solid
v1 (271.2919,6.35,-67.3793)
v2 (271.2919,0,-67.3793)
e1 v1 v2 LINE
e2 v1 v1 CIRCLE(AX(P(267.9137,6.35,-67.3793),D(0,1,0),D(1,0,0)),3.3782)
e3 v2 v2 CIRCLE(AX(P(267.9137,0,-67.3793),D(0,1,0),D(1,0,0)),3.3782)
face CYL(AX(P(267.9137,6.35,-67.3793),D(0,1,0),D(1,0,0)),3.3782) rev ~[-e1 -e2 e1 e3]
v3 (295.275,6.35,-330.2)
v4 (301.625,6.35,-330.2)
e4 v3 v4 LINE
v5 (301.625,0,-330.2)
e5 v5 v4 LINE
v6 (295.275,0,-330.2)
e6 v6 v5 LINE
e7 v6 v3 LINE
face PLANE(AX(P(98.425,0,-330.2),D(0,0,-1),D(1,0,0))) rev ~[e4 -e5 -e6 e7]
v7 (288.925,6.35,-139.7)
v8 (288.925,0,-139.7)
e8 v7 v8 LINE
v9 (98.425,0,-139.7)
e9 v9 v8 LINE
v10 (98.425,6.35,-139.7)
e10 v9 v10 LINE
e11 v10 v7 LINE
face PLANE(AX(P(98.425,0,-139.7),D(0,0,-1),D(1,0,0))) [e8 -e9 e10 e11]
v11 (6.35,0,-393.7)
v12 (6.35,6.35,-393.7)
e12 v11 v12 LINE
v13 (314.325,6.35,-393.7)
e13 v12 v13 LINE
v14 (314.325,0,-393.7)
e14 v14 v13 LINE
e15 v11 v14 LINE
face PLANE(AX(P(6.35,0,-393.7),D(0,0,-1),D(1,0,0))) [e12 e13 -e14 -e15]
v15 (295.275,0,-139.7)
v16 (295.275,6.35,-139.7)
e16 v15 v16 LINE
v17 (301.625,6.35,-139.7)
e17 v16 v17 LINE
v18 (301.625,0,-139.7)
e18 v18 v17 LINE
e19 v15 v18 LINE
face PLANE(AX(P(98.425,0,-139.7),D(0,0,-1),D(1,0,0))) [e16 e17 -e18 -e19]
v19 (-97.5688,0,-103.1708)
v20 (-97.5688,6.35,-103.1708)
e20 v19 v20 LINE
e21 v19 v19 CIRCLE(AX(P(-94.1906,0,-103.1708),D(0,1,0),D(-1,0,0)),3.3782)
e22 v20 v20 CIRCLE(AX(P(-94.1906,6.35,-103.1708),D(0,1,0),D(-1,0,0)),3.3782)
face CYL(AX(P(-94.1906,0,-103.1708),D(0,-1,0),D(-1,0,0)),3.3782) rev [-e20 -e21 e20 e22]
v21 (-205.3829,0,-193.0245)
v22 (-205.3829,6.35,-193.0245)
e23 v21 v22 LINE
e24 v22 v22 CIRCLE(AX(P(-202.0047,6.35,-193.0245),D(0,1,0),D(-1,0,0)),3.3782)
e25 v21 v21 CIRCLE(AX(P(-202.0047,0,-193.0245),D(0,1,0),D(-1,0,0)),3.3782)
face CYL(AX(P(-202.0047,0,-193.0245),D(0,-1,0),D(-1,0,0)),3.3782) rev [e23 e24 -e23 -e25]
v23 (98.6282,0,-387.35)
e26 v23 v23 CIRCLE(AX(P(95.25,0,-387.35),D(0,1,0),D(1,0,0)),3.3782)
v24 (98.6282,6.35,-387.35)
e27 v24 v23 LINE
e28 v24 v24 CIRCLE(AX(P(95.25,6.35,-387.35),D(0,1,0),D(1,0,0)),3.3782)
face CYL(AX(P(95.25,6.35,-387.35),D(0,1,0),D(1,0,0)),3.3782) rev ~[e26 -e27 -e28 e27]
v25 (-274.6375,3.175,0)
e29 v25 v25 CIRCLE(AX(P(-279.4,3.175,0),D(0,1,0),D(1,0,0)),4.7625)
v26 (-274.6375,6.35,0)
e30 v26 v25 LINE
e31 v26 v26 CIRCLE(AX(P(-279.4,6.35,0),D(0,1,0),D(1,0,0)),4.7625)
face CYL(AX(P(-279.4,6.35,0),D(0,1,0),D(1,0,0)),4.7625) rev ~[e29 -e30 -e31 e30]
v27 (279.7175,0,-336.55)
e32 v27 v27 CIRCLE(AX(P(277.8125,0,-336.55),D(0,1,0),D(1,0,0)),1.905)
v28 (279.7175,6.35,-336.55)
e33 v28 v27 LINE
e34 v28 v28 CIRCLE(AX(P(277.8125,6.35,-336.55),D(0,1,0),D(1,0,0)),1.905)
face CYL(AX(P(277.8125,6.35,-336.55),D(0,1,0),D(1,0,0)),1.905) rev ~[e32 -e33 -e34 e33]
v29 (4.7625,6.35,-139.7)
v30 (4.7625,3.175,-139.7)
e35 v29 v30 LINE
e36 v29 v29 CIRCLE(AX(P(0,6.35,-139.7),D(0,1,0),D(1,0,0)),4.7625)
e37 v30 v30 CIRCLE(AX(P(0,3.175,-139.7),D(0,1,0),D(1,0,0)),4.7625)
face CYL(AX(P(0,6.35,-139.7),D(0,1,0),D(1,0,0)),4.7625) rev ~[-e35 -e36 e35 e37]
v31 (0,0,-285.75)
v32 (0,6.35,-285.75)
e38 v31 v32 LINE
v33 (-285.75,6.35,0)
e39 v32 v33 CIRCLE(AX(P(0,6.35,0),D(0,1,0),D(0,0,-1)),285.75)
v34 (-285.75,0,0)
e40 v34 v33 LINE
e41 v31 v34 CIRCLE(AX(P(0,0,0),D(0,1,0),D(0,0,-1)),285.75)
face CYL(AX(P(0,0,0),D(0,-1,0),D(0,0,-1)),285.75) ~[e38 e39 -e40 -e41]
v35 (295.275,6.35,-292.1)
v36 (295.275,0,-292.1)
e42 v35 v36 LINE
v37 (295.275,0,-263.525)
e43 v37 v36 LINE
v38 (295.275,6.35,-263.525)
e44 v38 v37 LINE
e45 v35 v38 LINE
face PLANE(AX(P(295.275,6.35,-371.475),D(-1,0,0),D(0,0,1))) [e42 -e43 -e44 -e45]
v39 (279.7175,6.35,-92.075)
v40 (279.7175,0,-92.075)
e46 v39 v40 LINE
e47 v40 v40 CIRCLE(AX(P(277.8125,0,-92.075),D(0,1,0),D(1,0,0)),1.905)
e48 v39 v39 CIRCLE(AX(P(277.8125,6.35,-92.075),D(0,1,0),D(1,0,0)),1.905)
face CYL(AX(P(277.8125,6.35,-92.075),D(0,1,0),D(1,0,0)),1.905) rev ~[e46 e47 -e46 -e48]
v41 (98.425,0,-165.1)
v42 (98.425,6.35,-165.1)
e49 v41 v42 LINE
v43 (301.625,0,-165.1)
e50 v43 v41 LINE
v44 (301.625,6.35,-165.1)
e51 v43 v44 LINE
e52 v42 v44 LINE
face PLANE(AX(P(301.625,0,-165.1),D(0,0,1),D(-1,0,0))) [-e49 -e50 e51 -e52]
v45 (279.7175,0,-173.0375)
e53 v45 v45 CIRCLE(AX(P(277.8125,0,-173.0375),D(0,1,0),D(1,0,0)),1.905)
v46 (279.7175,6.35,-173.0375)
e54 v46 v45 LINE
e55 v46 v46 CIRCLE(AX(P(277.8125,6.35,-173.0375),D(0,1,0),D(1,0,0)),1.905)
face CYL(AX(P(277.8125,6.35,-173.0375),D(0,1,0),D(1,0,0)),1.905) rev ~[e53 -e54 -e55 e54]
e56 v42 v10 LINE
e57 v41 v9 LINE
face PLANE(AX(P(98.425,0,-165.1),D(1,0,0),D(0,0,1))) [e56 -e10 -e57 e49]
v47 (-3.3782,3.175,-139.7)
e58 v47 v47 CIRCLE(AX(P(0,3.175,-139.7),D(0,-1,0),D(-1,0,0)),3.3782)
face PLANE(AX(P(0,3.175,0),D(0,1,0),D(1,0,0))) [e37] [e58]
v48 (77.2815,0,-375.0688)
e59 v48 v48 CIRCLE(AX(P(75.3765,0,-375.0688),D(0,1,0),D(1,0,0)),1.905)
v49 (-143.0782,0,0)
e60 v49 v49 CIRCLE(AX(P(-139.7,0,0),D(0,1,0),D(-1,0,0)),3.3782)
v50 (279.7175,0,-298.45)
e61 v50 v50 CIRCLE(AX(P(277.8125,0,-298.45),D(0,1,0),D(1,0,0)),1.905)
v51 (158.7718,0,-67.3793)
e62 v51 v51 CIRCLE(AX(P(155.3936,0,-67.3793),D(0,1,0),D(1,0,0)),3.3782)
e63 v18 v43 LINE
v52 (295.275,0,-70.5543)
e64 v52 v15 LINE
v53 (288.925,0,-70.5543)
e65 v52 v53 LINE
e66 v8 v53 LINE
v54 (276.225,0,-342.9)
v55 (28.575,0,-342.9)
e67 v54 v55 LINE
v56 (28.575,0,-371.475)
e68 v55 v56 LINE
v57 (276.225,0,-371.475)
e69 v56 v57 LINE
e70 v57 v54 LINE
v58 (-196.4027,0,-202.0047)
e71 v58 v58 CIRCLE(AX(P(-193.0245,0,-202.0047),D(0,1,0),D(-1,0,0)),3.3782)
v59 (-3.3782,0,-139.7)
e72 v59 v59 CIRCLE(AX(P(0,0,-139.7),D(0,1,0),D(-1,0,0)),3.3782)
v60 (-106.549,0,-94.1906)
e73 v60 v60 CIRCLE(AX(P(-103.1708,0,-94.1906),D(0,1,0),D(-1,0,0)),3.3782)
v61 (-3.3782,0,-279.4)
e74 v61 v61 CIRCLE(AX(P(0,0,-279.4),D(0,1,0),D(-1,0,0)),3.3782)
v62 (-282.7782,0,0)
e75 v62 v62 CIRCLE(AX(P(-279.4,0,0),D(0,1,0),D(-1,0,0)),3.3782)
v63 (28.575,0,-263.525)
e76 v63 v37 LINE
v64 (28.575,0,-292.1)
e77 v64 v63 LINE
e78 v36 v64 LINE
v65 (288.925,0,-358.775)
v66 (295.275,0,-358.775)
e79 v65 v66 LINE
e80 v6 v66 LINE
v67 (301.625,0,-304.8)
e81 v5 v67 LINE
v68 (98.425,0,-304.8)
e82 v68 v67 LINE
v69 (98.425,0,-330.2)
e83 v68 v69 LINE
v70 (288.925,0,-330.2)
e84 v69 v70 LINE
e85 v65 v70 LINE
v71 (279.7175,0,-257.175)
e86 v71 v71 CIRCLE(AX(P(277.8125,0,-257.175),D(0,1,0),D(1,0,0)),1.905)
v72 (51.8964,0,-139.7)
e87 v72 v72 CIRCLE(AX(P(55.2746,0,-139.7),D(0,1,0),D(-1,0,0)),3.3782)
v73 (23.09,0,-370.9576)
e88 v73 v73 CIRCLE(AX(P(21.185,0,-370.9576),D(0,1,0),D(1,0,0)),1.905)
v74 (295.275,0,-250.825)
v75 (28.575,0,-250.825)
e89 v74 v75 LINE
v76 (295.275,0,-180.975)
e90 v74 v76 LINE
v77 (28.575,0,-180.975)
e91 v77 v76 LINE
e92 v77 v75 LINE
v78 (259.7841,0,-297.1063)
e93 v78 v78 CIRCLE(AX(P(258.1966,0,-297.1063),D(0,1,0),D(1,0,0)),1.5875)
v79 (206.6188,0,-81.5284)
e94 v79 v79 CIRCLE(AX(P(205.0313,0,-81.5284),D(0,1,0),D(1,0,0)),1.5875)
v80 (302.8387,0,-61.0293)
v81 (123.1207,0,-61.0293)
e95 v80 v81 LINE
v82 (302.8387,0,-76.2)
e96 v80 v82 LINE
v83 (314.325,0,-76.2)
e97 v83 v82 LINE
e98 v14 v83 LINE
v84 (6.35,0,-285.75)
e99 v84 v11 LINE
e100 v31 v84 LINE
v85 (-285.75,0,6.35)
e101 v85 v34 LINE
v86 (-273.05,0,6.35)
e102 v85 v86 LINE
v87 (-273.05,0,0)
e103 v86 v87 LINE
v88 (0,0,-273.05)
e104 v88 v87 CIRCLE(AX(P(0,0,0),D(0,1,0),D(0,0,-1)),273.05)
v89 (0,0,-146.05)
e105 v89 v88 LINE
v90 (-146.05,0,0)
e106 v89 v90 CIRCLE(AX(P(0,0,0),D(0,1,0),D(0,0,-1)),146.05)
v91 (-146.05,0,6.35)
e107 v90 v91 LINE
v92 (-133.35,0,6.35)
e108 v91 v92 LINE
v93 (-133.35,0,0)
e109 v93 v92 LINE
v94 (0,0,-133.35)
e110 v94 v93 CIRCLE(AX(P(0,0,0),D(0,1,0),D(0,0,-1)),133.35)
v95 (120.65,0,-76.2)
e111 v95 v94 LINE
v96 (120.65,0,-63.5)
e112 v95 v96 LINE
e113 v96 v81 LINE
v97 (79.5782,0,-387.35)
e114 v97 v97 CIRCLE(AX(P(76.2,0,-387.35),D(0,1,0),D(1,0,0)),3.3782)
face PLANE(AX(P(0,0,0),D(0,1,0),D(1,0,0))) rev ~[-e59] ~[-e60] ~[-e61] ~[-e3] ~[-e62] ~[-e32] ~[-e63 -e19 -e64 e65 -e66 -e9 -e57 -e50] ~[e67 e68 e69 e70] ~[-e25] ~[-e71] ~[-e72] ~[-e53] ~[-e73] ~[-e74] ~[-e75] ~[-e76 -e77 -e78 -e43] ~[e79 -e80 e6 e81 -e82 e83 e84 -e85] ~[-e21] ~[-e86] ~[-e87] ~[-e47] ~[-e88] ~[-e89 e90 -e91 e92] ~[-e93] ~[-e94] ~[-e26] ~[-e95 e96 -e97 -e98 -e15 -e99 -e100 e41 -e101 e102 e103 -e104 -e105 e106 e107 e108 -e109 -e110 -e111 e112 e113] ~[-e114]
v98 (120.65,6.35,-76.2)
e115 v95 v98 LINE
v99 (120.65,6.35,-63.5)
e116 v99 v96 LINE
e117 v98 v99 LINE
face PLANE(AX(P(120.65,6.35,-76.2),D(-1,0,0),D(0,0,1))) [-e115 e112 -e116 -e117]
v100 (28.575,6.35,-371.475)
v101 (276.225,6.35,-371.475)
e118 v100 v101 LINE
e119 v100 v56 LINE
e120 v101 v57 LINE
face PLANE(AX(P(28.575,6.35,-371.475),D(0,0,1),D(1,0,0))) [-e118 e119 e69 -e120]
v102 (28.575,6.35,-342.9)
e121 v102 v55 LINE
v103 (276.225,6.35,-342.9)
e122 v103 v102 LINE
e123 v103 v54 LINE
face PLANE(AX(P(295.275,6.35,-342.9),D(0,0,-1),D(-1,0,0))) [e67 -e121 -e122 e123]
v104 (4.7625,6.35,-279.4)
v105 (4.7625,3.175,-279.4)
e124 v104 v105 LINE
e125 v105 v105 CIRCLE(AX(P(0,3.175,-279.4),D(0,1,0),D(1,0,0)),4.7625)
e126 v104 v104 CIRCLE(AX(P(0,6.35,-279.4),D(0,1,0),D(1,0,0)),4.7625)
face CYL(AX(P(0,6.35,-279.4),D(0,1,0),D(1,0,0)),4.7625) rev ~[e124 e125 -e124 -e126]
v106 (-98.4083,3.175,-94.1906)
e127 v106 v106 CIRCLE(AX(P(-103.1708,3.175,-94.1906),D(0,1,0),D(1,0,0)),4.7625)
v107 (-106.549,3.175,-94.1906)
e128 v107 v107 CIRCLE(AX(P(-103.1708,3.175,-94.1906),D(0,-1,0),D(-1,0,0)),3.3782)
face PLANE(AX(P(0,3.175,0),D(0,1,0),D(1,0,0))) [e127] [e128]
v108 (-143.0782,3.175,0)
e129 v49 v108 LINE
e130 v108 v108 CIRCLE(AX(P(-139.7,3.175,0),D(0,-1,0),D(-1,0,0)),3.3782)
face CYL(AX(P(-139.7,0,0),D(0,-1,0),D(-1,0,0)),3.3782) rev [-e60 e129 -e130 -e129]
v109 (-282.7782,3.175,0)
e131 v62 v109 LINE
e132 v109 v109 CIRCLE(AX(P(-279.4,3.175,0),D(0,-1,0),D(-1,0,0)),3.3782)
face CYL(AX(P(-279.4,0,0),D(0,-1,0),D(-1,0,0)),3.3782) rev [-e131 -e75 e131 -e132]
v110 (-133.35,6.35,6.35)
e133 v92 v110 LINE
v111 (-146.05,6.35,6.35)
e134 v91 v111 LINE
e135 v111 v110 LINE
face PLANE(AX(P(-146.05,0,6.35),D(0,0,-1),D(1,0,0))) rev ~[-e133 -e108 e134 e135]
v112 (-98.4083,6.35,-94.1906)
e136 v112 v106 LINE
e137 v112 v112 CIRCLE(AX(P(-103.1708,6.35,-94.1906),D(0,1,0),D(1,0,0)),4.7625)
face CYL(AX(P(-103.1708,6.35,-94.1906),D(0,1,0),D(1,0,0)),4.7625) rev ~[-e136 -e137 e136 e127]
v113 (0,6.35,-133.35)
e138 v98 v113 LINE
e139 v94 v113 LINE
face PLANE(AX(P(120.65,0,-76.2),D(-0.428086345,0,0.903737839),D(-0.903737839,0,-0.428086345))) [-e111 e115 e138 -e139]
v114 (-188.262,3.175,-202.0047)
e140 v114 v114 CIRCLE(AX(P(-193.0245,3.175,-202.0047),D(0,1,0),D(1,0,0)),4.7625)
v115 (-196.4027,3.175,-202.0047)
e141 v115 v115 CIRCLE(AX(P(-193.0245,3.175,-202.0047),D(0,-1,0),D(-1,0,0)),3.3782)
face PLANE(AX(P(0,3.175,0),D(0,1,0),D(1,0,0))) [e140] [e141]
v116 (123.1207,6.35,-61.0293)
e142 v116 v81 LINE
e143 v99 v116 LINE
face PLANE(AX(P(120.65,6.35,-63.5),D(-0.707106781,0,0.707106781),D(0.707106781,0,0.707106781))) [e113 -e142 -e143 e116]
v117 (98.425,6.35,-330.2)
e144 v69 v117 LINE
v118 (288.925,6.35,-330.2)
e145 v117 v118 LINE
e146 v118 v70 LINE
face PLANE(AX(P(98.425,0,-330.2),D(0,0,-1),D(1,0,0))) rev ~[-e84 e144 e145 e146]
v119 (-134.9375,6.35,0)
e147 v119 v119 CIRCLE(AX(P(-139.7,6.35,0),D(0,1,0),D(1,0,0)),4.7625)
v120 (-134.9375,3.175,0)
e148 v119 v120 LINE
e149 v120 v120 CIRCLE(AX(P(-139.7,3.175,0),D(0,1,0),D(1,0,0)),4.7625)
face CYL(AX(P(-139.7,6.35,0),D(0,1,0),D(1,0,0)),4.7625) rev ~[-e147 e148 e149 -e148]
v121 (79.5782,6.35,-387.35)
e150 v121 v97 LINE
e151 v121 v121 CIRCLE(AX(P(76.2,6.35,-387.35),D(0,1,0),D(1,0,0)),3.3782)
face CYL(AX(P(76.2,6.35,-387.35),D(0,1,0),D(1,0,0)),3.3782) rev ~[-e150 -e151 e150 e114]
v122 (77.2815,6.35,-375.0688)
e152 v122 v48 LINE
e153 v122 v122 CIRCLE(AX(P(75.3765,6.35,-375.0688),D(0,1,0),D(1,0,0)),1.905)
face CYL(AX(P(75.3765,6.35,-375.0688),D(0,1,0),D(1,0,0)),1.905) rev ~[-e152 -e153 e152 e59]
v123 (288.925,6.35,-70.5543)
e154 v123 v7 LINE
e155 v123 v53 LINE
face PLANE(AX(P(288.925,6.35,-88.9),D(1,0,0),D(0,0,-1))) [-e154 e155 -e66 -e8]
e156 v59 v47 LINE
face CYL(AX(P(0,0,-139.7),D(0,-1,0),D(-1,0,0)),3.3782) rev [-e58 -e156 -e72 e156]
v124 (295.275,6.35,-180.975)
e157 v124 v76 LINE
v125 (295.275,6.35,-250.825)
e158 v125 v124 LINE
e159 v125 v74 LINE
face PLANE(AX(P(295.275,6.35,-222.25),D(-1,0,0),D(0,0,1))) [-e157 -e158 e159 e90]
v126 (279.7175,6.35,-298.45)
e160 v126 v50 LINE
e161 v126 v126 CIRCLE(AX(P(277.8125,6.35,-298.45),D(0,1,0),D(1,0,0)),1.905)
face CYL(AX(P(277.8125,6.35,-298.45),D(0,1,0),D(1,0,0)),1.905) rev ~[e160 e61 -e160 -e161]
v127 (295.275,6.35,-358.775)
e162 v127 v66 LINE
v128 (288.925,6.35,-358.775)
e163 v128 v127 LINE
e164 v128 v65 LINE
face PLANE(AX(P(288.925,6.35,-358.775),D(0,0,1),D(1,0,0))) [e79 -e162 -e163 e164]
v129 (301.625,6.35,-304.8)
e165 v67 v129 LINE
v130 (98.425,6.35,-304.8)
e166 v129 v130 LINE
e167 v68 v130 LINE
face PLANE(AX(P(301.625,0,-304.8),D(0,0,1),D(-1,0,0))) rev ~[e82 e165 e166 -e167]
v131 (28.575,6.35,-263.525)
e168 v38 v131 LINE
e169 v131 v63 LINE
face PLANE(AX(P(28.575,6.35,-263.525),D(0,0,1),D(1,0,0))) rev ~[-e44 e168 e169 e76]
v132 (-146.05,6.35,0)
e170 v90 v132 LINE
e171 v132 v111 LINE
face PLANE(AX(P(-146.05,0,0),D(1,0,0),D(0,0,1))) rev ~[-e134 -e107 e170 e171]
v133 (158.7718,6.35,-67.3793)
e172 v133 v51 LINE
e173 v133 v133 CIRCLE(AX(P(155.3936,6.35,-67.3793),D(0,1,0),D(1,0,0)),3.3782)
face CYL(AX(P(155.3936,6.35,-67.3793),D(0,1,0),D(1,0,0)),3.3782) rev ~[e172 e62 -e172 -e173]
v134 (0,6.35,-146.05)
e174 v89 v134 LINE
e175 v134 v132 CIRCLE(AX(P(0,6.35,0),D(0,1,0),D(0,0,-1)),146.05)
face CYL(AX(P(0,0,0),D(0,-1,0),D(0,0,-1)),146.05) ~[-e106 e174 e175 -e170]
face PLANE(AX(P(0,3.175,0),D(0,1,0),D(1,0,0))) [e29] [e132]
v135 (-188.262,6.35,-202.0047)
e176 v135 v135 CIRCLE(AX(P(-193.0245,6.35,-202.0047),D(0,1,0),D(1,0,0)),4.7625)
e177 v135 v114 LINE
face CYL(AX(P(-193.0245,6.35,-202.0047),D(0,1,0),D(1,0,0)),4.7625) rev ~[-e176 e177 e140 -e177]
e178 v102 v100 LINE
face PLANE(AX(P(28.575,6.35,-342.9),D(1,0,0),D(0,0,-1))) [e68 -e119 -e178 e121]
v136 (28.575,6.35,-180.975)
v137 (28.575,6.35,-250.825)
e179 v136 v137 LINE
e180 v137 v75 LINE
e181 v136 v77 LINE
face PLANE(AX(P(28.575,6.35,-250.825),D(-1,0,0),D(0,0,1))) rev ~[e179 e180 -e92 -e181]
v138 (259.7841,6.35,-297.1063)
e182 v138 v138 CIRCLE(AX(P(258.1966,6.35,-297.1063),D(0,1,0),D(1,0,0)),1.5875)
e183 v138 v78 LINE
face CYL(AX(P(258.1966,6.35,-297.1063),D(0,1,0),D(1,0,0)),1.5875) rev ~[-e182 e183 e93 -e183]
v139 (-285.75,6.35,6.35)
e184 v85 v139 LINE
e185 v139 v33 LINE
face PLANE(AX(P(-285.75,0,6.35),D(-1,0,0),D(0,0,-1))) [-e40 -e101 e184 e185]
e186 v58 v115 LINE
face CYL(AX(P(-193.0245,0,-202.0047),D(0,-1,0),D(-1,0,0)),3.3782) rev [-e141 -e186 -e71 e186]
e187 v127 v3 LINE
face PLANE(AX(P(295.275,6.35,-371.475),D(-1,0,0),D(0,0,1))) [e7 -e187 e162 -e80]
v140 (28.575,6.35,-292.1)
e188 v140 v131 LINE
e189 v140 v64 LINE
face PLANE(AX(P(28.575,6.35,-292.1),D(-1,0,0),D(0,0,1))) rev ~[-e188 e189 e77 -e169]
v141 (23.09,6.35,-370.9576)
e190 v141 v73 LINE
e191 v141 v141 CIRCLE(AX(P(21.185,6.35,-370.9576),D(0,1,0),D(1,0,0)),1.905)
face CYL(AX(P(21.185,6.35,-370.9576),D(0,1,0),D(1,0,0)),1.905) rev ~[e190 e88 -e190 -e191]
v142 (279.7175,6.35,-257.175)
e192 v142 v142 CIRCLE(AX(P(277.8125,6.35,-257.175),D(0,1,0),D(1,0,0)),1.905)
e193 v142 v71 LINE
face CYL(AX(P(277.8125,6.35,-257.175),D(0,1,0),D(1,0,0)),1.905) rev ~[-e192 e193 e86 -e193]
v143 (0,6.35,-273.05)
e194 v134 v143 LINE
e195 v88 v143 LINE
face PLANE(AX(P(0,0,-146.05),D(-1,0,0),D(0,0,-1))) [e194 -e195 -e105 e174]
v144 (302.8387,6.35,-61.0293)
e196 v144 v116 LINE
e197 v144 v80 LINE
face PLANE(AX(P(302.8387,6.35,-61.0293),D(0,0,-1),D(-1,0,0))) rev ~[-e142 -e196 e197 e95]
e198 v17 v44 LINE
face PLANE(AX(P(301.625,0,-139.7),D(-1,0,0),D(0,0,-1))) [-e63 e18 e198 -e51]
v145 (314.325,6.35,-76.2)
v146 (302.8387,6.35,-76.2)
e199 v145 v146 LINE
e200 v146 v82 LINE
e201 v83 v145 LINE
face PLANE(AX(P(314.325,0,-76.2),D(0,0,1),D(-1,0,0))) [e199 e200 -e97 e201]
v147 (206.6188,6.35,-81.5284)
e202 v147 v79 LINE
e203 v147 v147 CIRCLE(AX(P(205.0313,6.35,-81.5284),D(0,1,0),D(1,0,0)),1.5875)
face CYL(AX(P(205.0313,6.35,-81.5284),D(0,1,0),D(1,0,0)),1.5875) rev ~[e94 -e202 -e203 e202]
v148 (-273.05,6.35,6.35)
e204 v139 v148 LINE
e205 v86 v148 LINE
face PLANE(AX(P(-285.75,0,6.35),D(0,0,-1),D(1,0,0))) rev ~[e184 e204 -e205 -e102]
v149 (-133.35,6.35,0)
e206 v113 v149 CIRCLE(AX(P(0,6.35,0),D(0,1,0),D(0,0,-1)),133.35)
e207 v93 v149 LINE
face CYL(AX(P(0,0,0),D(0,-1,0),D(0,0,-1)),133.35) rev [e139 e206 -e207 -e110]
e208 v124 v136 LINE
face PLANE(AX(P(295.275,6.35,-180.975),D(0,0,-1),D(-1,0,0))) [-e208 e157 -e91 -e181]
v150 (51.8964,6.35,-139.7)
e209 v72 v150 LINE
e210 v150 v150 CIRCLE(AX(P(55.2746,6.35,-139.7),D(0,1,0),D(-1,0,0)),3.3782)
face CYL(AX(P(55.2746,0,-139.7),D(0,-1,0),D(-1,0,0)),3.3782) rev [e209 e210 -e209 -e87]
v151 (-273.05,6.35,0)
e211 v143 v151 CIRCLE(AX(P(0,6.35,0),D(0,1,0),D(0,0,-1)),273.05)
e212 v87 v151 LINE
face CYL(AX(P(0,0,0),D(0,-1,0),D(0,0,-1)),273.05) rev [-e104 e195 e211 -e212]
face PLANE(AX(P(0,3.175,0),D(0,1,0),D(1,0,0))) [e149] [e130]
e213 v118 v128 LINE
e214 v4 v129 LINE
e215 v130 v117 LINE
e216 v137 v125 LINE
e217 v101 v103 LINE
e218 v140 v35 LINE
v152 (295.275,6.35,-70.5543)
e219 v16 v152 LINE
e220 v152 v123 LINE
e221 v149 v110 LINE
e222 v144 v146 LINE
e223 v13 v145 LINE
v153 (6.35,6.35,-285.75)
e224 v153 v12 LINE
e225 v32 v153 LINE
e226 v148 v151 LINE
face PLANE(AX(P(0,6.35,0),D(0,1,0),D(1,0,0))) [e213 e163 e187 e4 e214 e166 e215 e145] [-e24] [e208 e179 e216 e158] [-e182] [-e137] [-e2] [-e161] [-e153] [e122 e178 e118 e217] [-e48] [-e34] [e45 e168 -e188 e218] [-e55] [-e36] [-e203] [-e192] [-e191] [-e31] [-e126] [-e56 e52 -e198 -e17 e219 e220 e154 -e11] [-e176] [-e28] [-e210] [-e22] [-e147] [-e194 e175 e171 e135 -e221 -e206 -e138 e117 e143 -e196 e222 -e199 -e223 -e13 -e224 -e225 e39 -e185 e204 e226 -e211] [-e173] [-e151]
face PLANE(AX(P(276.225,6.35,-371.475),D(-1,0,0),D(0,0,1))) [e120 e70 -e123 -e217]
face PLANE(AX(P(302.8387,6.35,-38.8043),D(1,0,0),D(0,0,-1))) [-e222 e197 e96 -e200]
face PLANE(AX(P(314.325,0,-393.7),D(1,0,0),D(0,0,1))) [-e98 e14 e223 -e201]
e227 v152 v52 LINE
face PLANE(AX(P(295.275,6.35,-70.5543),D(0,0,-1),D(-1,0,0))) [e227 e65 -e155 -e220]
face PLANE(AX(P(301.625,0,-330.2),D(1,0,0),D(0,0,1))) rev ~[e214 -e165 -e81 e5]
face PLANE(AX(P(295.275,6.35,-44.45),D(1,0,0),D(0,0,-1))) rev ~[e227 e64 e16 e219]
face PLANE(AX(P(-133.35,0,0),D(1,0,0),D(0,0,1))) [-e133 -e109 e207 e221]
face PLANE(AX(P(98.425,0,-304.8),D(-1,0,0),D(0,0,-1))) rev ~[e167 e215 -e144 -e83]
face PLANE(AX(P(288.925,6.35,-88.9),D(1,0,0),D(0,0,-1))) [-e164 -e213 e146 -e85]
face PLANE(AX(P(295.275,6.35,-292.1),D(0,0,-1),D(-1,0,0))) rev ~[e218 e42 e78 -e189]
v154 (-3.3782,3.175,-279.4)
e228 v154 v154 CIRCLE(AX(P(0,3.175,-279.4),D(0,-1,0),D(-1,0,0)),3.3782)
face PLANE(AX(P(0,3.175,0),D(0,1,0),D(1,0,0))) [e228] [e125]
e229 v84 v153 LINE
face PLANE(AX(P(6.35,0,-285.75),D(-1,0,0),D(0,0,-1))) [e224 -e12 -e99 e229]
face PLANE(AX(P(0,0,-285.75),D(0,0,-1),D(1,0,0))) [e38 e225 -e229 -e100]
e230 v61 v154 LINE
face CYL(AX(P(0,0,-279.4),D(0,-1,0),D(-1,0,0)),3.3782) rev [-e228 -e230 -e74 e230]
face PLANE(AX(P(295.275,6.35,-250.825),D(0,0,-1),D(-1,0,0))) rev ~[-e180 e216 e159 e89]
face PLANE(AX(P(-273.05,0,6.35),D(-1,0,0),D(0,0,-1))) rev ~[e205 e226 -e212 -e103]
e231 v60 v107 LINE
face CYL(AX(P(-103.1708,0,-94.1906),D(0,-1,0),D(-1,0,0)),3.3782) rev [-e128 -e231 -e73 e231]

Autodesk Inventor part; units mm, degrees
ref_plane "YZ Plane" through (0, 0, 0) normal (1, 0, 0) x (0, 1, 0)
ref_plane "XZ Plane" through (0, 0, 0) normal (0, 1, 0) x (-1, 0, 0)
ref_plane "XY Plane" through (0, 0, 0) normal (0, 0, 1) x (1, 0, 0)
sketch "Sketch1" plane through (0, 0, 0) normal (0, 1, 0) x (-1, 0, 0)
  arc A0 (0, -273.05) -> (273.05, 0) centre (0, 0) ccw
  arc A1 (0, -285.75) -> (285.75, 0) centre (0, 0) ccw
  arc A2 (0, -146.05) -> (146.05, 0) centre (0, 0) ccw
  arc A3 (0, -133.35) -> (133.35, 0) centre (0, 0) ccw
  line L0 (0, -285.75) -> (-6.35, -285.75)
  line L1 (146.05, 0) -> (146.05, 6.35)
  line L2 (133.35, 0) -> (133.35, 6.35)
  line L3 (273.05, 6.35) -> (273.05, 0)
  line L4 (285.75, 6.35) -> (285.75, 0)
  circle A4 centre (103.1708, -94.1906) radius 3.3782
  circle A5 centre (94.1906, -103.1708) radius 3.3782
  circle A6 centre (279.4, 0) radius 3.3782
  circle A7 centre (139.7, 0) radius 3.3782
  circle A8 centre (202.0047, -193.0245) radius 3.3782
  circle A9 centre (193.0245, -202.0047) radius 3.3782
  circle A10 centre (0, -279.4) radius 3.3782
  circle A11 centre (0, -139.7) radius 3.3782
  circle A12 centre (-55.2746, -139.7) radius 3.3782
  circle A13 centre (-78.3684, -279.4) radius 3.3782
  line L5 (285.75, 6.35) -> (273.05, 6.35)
  line L6 (146.05, 6.35) -> (133.35, 6.35)
  line L7 (-314.96, -285.75) -> (-314.96, -273.05)
  line L8 (-101.6, -133.35) -> (-127, -133.35)
  line L9 (-127, -146.05) -> (-101.6, -146.05)
  line L10 (-314.96, -146.05) -> (-314.96, -133.35)
  line L11 (-6.35, -285.75) -> (-6.35, -393.7)
  line L12 (-6.35, -393.7) -> (-314.325, -393.7)
  line L13 (-314.325, -393.7) -> (-314.325, -76.2)
  line L14 (-314.325, -76.2) -> (-120.65, -76.2)
  line L15 (-120.65, -76.2) -> (0, -133.35)
  line L16 (0, -285.75) -> (-6.35, -285.75)
  line L17 (0, -146.05) -> (0, -273.05)
  dimension "d10" = 12.7
  dimension "d11" = 12.7
  dimension "d13" = 12.7
  dimension "d14" = 6.7564
  dimension "d15" = 6.7564
  dimension "d16" = 6.7564
  dimension "d18" = 6.7564
  dimension "d20" = 6.35
  dimension "d21" = 6.7564
  dimension "d22" = 6.7564
  dimension "d23" = 6.7564
  dimension "d26" = 6.7564
  dimension "d30" = 6.7564
  dimension "d32" = 6.7564
  dimension "d66" = 25.4
  dimension "d67" = 0
  dimension "d72" = 12.7
  dimension "d81" = 107.95
  dimension "d82" = 133.35
  dimension "d83" = 279.4
  dimension "d84" = 6.35
  dimension "d85" = 317.5
  dimension "d86" = 193.675
  dimension "d87" = 55.2746
  dimension "d88" = 139.7
  dimension "d91" = 307.975
extrude "Extrusion7" add sketch "Sketch1" along normal blind 6.35
sketch "Sketch7" plane through (0, 0, 0) normal (0, -1, 0) x (1, 0, 0)
  line L0 (0, -273.05) -> (0, -146.05) projected
  line L1 (314.325, -76.2) -> (314.325, -393.7) projected
  line L2 (314.325, -234.95) -> (0, -234.95)
  line L3 (301.625, -139.7) -> (301.625, -165.1)
  line L4 (301.625, -165.1) -> (98.425, -165.1)
  line L5 (98.425, -165.1) -> (98.425, -139.7)
  line L6 (98.425, -139.7) -> (301.625, -139.7)
  line L7 (301.625, -330.2) -> (301.625, -304.8)
  line L8 (301.625, -304.8) -> (98.425, -304.8)
  line L9 (98.425, -304.8) -> (98.425, -330.2)
  line L10 (98.425, -330.2) -> (301.625, -330.2)
  dimension "d92" = 25.4
  dimension "d93" = 203.2
  dimension "d94" = 12.7
  dimension "d95" = 69.85
extrude "Extrusion8" cut sketch "Sketch7" against normal blind 6.35
sketch "Sketch8" plane through (0, 6.35, 0) normal (0, 1, 0) x (1, 0, 0)
  line L0 (98.425, 165.1) -> (301.625, 165.1) projected
  line L1 (301.625, 304.8) -> (98.425, 304.8) projected
  circle A0 centre (78.3684, 279.4) radius 3.3782 projected
  line L2 (314.325, 76.2) -> (314.325, 393.7) projected
  line L3 (314.325, 393.7) -> (6.35, 393.7) projected
  line L4 (0, 273.05) -> (0, 146.05) projected
  line L5 (295.275, 367.3082) -> (295.275, 342.9)
  line L6 (295.275, 342.9) -> (28.575, 342.9)
  line L7 (28.575, 342.9) -> (28.575, 371.475)
  line L8 (28.575, 371.475) -> (295.275, 371.475)
  line L9 (295.275, 371.475) -> (295.275, 367.3082)
  line L10 (295.275, 292.1) -> (28.575, 292.1)
  line L11 (28.575, 292.1) -> (28.575, 263.525)
  line L12 (28.575, 263.525) -> (295.275, 263.525)
  line L13 (295.275, 263.525) -> (295.275, 292.1)
  line L14 (295.275, 250.825) -> (28.575, 250.825)
  line L15 (28.575, 250.825) -> (28.575, 222.25)
  line L16 (28.575, 222.25) -> (295.275, 222.25)
  line L17 (295.275, 222.25) -> (295.275, 250.825)
  line L18 (295.275, 209.55) -> (295.275, 180.975)
  line L19 (295.275, 180.975) -> (28.575, 180.975)
  line L20 (28.575, 180.975) -> (28.575, 209.55)
  line L21 (28.575, 209.55) -> (295.275, 209.55)
  dimension "d100" = 90
  dimension "d101" = 22.225
  dimension "d102" = 19.05
  dimension "d103" = 28.575
  dimension "d104" = 266.7
  dimension "d105" = 28.575
  dimension "d106" = 19.05
  dimension "d107" = 12.7
  dimension "d108" = 266.7
  dimension "d109" = 28.575
  dimension "d110" = 28.575
  dimension "d111" = 12.7
  dimension "d112" = 12.7
  dimension "d113" = 266.7
  dimension "d114" = 19.05
  dimension "d115" = 19.05
extrude "Extrusion9" cut sketch "Sketch8" against normal blind 25.4
sketch "Sketch9" plane through (0, 6.35, 0) normal (0, 1, 0) x (1, 0, 0)
  line L0 (314.325, 76.2) -> (314.325, 393.7) projected
  line L1 (295.275, 371.475) -> (295.275, 88.9)
  line L2 (295.275, 88.9) -> (288.925, 88.9)
  line L3 (288.925, 88.9) -> (288.925, 381)
  line L4 (288.925, 381) -> (295.275, 381)
  line L5 (295.275, 381) -> (295.275, 371.475)
  dimension "d118" = 282.575
  dimension "d119" = 6.35
  dimension "d120" = 292.1
extrude "Extrusion10" cut sketch "Sketch9" against normal blind 25.4
sketch "Sketch10" plane through (0, 6.35, 0) normal (0, 1, 0) x (1, 0, 0)
  line L0 (120.65, 76.2) -> (314.325, 76.2) projected
  line L1 (0, 273.05) -> (0, 146.05) projected
  line L2 (120.65, 76.2) -> (120.65, 63.5)
  line L3 (120.65, 63.5) -> (145.3457, 38.8043)
  line L4 (145.3457, 38.8043) -> (302.8387, 38.8043)
  line L5 (302.8387, 38.8043) -> (302.8387, 76.2)
  dimension "d123" = 12.7
  dimension "d124" = 34.925
  dimension "d125" = 135
extrude "Extrusion11" add sketch "Sketch10" against normal blind 6.35
sketch "Sketch13" plane through (0, 6.35, 0) normal (0, 1, 0) x (1, 0, 0)
  line L0 (288.925, 88.9) -> (288.925, 139.7) projected
  line L1 (288.925, 139.7) -> (98.425, 139.7) projected
  line L2 (288.925, 381) -> (295.275, 381) projected
  line L3 (295.275, 88.9) -> (288.925, 88.9) projected
  line L4 (145.3457, 38.8043) -> (302.8387, 38.8043) projected
  line L5 (302.8387, 38.8043) -> (302.8387, 76.2) projected
  line L6 (0, 273.05) -> (0, 146.05) projected
  line L7 (98.425, 127) -> (98.425, 101.6)
  line L8 (98.425, 101.6) -> (288.925, 101.6)
  line L9 (98.425, 127) -> (288.925, 127)
  line L10 (288.925, 88.9) -> (288.925, 44.45)
  line L11 (288.925, 44.45) -> (295.275, 44.45)
  line L12 (295.275, 44.45) -> (295.275, 88.9)
  dimension "d135" = 25.4
  dimension "d136" = 336.55
  dimension "d137" = 12.7
extrude "Extrusion13" cut sketch "Sketch13" against normal blind 25.4
sketch "Sketch14" plane through (0, 6.35, 0) normal (0, 1, 0) x (1, 0, 0)
  line L0 (311.15, 79.375) -> (304.8, 79.375) projected
  line L1 (304.8, 79.375) -> (304.8, 85.725) projected
  line L2 (304.8, 85.725) -> (311.15, 85.725) projected
  line L3 (311.15, 85.725) -> (311.15, 79.375) projected
  line L4 (6.35, 381) -> (301.625, 381) projected
  line L5 (301.625, 381) -> (301.625, 76.2) projected
  line L6 (301.625, 76.2) -> (314.325, 76.2) projected
  line L7 (314.325, 76.2) -> (314.325, 393.7) projected
  line L8 (314.325, 393.7) -> (6.35, 393.7) projected
  line L9 (6.35, 393.7) -> (6.35, 381) projected
  line L10 (311.15, 390.525) -> (311.15, 384.175) projected
  line L11 (311.15, 384.175) -> (304.8, 384.175) projected
  line L12 (304.8, 384.175) -> (304.8, 390.525) projected
  line L13 (304.8, 390.525) -> (311.15, 390.525) projected
  line L14 (15.875, 384.175) -> (9.525, 384.175) projected
  line L15 (9.525, 384.175) -> (9.525, 390.525) projected
  line L16 (9.525, 390.525) -> (15.875, 390.525) projected
  line L17 (15.875, 390.525) -> (15.875, 384.175) projected
  line L18 (145.3457, 38.8043) -> (302.8387, 38.8043) projected
  line L19 (301.625, 139.7) -> (295.275, 139.7) projected
  line L20 (152.2186, 54.6793) -> (152.2186, 48.3293)
  line L21 (152.2186, 48.3293) -> (158.5686, 48.3293)
  line L22 (158.5686, 48.3293) -> (158.5686, 54.6793)
  line L23 (158.5686, 54.6793) -> (152.2186, 54.6793)
  dimension "d146" = 6.35
  dimension "d148" = 6.35
  dimension "d149" = 9.525
extrude "Extrusion15" cut sketch "Sketch14" against normal blind 25.4 contours L23 L22 L21 L20
sketch "Sketch16" plane through (0, 6.35, 0) normal (0, 1, 0) x (1, 0, 0)
  line L0 (288.925, 165.1) -> (288.925, 180.975) projected
  line L1 (288.925, 209.55) -> (288.925, 222.25) projected
  line L2 (288.925, 250.825) -> (288.925, 263.525) projected
  line L3 (288.925, 292.1) -> (288.925, 304.8) projected
  line L4 (295.275, 304.8) -> (295.275, 165.1) projected
  line L5 (295.275, 165.1) -> (301.625, 165.1) projected
  line L6 (288.925, 165.1) -> (295.275, 165.1)
  line L7 (288.925, 180.975) -> (295.275, 180.975)
  line L8 (288.925, 222.25) -> (295.275, 222.25)
  line L9 (288.925, 209.55) -> (295.275, 209.55)
  line L10 (288.925, 304.8) -> (295.275, 304.8)
  line L11 (288.925, 292.1) -> (295.275, 292.1)
  line L12 (288.925, 263.525) -> (295.275, 263.525)
  line L13 (288.925, 250.825) -> (295.275, 250.825)
extrude "Extrusion16" add sketch "Sketch16" against normal blind 6.35
sketch "Sketch17" plane through (0, 6.35, 0) normal (0, 1, 0) x (1, 0, 0)
  line L0 (288.925, 44.45) -> (288.925, 101.6) projected
  line L1 (288.925, 101.6) -> (98.425, 101.6) projected
  line L2 (98.425, 127) -> (288.925, 127) projected
  line L3 (288.925, 342.9) -> (28.575, 342.9) projected
  line L4 (28.575, 371.475) -> (288.925, 371.475) projected
  line L5 (288.925, 127) -> (288.925, 101.6)
  line L6 (276.225, 127) -> (276.225, 101.6)
  line L7 (288.925, 342.9) -> (288.925, 371.475)
  line L8 (276.225, 371.475) -> (276.225, 342.9)
  dimension "d155" = 12.7
  dimension "d156" = 12.7
extrude "Extrusion17" add sketch "Sketch17" against normal blind 6.35
sketch "Sketch18" plane through (0, 6.35, 0) normal (0, 1, 0) x (1, 0, 0)
  line L0 (288.925, 44.45) -> (288.925, 139.7) projected
  line L1 (295.275, 139.7) -> (295.275, 44.45) projected
  line L2 (295.275, 44.45) -> (288.925, 44.45) projected
  line L3 (145.3457, 38.8043) -> (302.8387, 38.8043) projected
  line L4 (295.275, 70.5543) -> (288.925, 70.5543)
  dimension "d159" = 31.75
extrude "Extrusion18" add sketch "Sketch18" against normal blind 6.35
sketch "Sketch19" plane through (0, 6.35, 0) normal (0, 1, 0) x (1, 0, 0)
  line L0 (314.325, 393.7) -> (6.35, 393.7) projected
  line L1 (6.35, 393.7) -> (6.35, 285.75) projected
  circle A0 centre (76.2, 387.35) radius 3.3782
  dimension "d162" = 6.7564
  dimension "d164" = 6.35
  dimension "d165" = 69.85
extrude "Extrusion19" cut sketch "Sketch19" against normal blind 25.4
sketch "Sketch20" plane through (0, 6.35, 0) normal (0, 1, 0) x (1, 0, 0)
  circle A0 centre (95.25, 387.35) radius 3.3782 projected
  circle A1 centre (277.8125, 173.0375) radius 1.905 projected
  circle A2 centre (277.8125, 92.075) radius 1.905 projected
  line L0 (284.9562, 82.55) -> (269.875, 82.55) construction
  line L1 (284.9562, 82.55) -> (284.9562, 190.5) construction
  line L2 (269.875, 190.5) -> (284.9562, 190.5) construction
  line L3 (269.875, 82.55) -> (269.875, 190.5) construction
  circle A3 centre (277.8125, 257.175) radius 1.905 projected
  circle A4 centre (277.8125, 336.55) radius 1.905 projected
  circle A5 centre (277.8125, 298.45) radius 1.905 projected
  line L4 (284.9562, 215.9) -> (269.875, 215.9) construction
  line L5 (284.9562, 215.9) -> (284.9562, 349.25) construction
  line L6 (269.875, 349.25) -> (284.9562, 349.25) construction
  line L7 (269.875, 215.9) -> (269.875, 349.25) construction
  circle A6 centre (258.1966, 297.1063) radius 1.5875 projected
  line L8 (244.5746, 300.0032) -> (257.4819, 307.8036) construction
  line L9 (244.5746, 300.0032) -> (254.4277, 283.6993) construction
  line L10 (267.335, 291.4997) -> (254.4277, 283.6993) construction
  line L11 (257.4819, 307.8036) -> (267.335, 291.4997) construction
  circle A7 centre (75.3765, 375.0688) radius 1.905 projected
  circle A8 centre (21.185, 370.9576) radius 1.905 projected
  line L12 (8.1346, 362.7594) -> (8.89, 381) construction
  line L13 (8.1346, 362.7594) -> (100.1307, 358.9494) construction
  line L14 (100.8861, 377.19) -> (100.1307, 358.9494) construction
  line L15 (8.89, 381) -> (100.8861, 377.19) construction
  circle A9 centre (205.0313, 81.5284) radius 1.5875 projected
  line L16 (207.9282, 95.1504) -> (215.7286, 82.2431) construction
  line L17 (207.9282, 95.1504) -> (191.6243, 85.2973) construction
  line L18 (199.4247, 72.39) -> (191.6243, 85.2973) construction
  line L19 (215.7286, 82.2431) -> (199.4247, 72.39) construction
extrude "Extrusion20" cut sketch "Sketch20" against normal through all
sketch "Sketch21" plane through (0, 6.35, 0) normal (0, 1, 0) x (1, 0, 0)
  line L0 (158.5686, 54.6793) -> (158.5686, 48.3293) projected
  line L1 (145.3457, 38.8043) -> (302.8387, 38.8043) projected
  line L2 (302.8387, 38.8043) -> (302.8387, 76.2) projected
  circle A0 centre (155.3936, 67.3793) radius 3.3782
  circle A1 centre (267.9137, 67.3793) radius 3.3782
  dimension "d170" = 6.7564
  dimension "d171" = 6.7564
  dimension "d172" = 28.575
  dimension "d173" = 34.925
  dimension "d174" = 28.575
  dimension "d176" = 3.175
extrude "Extrusion21" cut sketch "Sketch21" against normal blind 25.4
sketch "Sketch22" plane through (0, 6.35, 0) normal (0, 1, 0) x (1, 0, 0)
  line L0 (288.925, 330.2) -> (288.925, 381) projected
  line L1 (288.925, 381) -> (295.275, 381) projected
  line L2 (295.275, 381) -> (295.275, 330.2) projected
  line L3 (288.925, 358.775) -> (295.275, 358.775)
  dimension "d179" = 22.225
extrude "Extrusion22" add sketch "Sketch22" against normal blind 6.35
sketch "Sketch23" plane through (0, 6.35, 0) normal (0, 1, 0) x (1, 0, 0)
  line L0 (158.5686, 48.3293) -> (152.2186, 48.3293) projected
  line L1 (152.2186, 48.3293) -> (152.2186, 54.6793) projected
  line L2 (152.2186, 54.6793) -> (158.5686, 54.6793) projected
  line L3 (158.5686, 54.6793) -> (158.5686, 48.3293) projected
  line L4 (120.65, 63.5) -> (145.3457, 38.8043) projected
  line L5 (145.3457, 38.8043) -> (302.8387, 38.8043) projected
  line L6 (302.8387, 38.8043) -> (302.8387, 76.2) projected
  line L7 (28.575, 371.475) -> (276.225, 371.475) projected
  line L8 (302.8387, 61.0293) -> (123.1207, 61.0293)
  dimension "d182" = 22.225
extrude "Extrusion23" cut sketch "Sketch23" against normal blind 6.35
sketch "Sketch24" plane through (0, 6.35, 0) normal (0, 1, 0) x (1, 0, 0)
  line L0 (276.225, 127) -> (276.225, 101.6) projected
  line L1 (276.225, 101.6) -> (98.425, 101.6) projected
  line L2 (98.425, 101.6) -> (98.425, 127) projected
  line L3 (98.425, 127) -> (276.225, 127) projected
extrude "Extrusion24" add sketch "Sketch24" against normal blind 6.35
sketch "Sketch25" plane through (0, 6.35, 0) normal (0, 1, 0) x (1, 0, 0)
  line L0 (295.275, 222.25) -> (28.575, 222.25) projected
  line L1 (295.275, 209.55) -> (295.275, 180.975) projected
  line L2 (28.575, 209.55) -> (295.275, 209.55) projected
  line L3 (295.275, 70.5543) -> (288.925, 70.5543) projected
  line L4 (28.575, 209.55) -> (28.575, 222.25)
  line L5 (295.275, 222.25) -> (295.275, 209.55)
extrude "Extrusion25" cut sketch "Sketch25" against normal blind 25.4
sketch "Sketch26" plane through (0, 6.35, 0) normal (0, 1, 0) x (1, 0, 0)
  circle A0 centre (-279.4, 0) radius 3.3782 projected
  circle A1 centre (0, 279.4) radius 3.3782 projected
  circle A2 centre (-139.7, 0) radius 3.3782 projected
  circle A3 centre (-103.1708, 94.1906) radius 3.3782 projected
  circle A4 centre (-193.0245, 202.0047) radius 3.3782 projected
  circle A5 centre (0, 139.7) radius 3.3782 projected
  circle A6 centre (-139.7, 0) radius 4.7625
  circle A7 centre (-279.4, 0) radius 4.7625
  circle A8 centre (-103.1708, 94.1906) radius 4.7625
  circle A9 centre (-193.0245, 202.0047) radius 4.7625
  circle A10 centre (0, 139.7) radius 4.7625
  circle A11 centre (0, 279.4) radius 4.7625
  dimension "d189" = 9.525
extrude "Extrusion26" cut sketch "Sketch26" against normal blind 3.175
properties part number "Runner Rails v2" material "Polycarbonate, Clear"
